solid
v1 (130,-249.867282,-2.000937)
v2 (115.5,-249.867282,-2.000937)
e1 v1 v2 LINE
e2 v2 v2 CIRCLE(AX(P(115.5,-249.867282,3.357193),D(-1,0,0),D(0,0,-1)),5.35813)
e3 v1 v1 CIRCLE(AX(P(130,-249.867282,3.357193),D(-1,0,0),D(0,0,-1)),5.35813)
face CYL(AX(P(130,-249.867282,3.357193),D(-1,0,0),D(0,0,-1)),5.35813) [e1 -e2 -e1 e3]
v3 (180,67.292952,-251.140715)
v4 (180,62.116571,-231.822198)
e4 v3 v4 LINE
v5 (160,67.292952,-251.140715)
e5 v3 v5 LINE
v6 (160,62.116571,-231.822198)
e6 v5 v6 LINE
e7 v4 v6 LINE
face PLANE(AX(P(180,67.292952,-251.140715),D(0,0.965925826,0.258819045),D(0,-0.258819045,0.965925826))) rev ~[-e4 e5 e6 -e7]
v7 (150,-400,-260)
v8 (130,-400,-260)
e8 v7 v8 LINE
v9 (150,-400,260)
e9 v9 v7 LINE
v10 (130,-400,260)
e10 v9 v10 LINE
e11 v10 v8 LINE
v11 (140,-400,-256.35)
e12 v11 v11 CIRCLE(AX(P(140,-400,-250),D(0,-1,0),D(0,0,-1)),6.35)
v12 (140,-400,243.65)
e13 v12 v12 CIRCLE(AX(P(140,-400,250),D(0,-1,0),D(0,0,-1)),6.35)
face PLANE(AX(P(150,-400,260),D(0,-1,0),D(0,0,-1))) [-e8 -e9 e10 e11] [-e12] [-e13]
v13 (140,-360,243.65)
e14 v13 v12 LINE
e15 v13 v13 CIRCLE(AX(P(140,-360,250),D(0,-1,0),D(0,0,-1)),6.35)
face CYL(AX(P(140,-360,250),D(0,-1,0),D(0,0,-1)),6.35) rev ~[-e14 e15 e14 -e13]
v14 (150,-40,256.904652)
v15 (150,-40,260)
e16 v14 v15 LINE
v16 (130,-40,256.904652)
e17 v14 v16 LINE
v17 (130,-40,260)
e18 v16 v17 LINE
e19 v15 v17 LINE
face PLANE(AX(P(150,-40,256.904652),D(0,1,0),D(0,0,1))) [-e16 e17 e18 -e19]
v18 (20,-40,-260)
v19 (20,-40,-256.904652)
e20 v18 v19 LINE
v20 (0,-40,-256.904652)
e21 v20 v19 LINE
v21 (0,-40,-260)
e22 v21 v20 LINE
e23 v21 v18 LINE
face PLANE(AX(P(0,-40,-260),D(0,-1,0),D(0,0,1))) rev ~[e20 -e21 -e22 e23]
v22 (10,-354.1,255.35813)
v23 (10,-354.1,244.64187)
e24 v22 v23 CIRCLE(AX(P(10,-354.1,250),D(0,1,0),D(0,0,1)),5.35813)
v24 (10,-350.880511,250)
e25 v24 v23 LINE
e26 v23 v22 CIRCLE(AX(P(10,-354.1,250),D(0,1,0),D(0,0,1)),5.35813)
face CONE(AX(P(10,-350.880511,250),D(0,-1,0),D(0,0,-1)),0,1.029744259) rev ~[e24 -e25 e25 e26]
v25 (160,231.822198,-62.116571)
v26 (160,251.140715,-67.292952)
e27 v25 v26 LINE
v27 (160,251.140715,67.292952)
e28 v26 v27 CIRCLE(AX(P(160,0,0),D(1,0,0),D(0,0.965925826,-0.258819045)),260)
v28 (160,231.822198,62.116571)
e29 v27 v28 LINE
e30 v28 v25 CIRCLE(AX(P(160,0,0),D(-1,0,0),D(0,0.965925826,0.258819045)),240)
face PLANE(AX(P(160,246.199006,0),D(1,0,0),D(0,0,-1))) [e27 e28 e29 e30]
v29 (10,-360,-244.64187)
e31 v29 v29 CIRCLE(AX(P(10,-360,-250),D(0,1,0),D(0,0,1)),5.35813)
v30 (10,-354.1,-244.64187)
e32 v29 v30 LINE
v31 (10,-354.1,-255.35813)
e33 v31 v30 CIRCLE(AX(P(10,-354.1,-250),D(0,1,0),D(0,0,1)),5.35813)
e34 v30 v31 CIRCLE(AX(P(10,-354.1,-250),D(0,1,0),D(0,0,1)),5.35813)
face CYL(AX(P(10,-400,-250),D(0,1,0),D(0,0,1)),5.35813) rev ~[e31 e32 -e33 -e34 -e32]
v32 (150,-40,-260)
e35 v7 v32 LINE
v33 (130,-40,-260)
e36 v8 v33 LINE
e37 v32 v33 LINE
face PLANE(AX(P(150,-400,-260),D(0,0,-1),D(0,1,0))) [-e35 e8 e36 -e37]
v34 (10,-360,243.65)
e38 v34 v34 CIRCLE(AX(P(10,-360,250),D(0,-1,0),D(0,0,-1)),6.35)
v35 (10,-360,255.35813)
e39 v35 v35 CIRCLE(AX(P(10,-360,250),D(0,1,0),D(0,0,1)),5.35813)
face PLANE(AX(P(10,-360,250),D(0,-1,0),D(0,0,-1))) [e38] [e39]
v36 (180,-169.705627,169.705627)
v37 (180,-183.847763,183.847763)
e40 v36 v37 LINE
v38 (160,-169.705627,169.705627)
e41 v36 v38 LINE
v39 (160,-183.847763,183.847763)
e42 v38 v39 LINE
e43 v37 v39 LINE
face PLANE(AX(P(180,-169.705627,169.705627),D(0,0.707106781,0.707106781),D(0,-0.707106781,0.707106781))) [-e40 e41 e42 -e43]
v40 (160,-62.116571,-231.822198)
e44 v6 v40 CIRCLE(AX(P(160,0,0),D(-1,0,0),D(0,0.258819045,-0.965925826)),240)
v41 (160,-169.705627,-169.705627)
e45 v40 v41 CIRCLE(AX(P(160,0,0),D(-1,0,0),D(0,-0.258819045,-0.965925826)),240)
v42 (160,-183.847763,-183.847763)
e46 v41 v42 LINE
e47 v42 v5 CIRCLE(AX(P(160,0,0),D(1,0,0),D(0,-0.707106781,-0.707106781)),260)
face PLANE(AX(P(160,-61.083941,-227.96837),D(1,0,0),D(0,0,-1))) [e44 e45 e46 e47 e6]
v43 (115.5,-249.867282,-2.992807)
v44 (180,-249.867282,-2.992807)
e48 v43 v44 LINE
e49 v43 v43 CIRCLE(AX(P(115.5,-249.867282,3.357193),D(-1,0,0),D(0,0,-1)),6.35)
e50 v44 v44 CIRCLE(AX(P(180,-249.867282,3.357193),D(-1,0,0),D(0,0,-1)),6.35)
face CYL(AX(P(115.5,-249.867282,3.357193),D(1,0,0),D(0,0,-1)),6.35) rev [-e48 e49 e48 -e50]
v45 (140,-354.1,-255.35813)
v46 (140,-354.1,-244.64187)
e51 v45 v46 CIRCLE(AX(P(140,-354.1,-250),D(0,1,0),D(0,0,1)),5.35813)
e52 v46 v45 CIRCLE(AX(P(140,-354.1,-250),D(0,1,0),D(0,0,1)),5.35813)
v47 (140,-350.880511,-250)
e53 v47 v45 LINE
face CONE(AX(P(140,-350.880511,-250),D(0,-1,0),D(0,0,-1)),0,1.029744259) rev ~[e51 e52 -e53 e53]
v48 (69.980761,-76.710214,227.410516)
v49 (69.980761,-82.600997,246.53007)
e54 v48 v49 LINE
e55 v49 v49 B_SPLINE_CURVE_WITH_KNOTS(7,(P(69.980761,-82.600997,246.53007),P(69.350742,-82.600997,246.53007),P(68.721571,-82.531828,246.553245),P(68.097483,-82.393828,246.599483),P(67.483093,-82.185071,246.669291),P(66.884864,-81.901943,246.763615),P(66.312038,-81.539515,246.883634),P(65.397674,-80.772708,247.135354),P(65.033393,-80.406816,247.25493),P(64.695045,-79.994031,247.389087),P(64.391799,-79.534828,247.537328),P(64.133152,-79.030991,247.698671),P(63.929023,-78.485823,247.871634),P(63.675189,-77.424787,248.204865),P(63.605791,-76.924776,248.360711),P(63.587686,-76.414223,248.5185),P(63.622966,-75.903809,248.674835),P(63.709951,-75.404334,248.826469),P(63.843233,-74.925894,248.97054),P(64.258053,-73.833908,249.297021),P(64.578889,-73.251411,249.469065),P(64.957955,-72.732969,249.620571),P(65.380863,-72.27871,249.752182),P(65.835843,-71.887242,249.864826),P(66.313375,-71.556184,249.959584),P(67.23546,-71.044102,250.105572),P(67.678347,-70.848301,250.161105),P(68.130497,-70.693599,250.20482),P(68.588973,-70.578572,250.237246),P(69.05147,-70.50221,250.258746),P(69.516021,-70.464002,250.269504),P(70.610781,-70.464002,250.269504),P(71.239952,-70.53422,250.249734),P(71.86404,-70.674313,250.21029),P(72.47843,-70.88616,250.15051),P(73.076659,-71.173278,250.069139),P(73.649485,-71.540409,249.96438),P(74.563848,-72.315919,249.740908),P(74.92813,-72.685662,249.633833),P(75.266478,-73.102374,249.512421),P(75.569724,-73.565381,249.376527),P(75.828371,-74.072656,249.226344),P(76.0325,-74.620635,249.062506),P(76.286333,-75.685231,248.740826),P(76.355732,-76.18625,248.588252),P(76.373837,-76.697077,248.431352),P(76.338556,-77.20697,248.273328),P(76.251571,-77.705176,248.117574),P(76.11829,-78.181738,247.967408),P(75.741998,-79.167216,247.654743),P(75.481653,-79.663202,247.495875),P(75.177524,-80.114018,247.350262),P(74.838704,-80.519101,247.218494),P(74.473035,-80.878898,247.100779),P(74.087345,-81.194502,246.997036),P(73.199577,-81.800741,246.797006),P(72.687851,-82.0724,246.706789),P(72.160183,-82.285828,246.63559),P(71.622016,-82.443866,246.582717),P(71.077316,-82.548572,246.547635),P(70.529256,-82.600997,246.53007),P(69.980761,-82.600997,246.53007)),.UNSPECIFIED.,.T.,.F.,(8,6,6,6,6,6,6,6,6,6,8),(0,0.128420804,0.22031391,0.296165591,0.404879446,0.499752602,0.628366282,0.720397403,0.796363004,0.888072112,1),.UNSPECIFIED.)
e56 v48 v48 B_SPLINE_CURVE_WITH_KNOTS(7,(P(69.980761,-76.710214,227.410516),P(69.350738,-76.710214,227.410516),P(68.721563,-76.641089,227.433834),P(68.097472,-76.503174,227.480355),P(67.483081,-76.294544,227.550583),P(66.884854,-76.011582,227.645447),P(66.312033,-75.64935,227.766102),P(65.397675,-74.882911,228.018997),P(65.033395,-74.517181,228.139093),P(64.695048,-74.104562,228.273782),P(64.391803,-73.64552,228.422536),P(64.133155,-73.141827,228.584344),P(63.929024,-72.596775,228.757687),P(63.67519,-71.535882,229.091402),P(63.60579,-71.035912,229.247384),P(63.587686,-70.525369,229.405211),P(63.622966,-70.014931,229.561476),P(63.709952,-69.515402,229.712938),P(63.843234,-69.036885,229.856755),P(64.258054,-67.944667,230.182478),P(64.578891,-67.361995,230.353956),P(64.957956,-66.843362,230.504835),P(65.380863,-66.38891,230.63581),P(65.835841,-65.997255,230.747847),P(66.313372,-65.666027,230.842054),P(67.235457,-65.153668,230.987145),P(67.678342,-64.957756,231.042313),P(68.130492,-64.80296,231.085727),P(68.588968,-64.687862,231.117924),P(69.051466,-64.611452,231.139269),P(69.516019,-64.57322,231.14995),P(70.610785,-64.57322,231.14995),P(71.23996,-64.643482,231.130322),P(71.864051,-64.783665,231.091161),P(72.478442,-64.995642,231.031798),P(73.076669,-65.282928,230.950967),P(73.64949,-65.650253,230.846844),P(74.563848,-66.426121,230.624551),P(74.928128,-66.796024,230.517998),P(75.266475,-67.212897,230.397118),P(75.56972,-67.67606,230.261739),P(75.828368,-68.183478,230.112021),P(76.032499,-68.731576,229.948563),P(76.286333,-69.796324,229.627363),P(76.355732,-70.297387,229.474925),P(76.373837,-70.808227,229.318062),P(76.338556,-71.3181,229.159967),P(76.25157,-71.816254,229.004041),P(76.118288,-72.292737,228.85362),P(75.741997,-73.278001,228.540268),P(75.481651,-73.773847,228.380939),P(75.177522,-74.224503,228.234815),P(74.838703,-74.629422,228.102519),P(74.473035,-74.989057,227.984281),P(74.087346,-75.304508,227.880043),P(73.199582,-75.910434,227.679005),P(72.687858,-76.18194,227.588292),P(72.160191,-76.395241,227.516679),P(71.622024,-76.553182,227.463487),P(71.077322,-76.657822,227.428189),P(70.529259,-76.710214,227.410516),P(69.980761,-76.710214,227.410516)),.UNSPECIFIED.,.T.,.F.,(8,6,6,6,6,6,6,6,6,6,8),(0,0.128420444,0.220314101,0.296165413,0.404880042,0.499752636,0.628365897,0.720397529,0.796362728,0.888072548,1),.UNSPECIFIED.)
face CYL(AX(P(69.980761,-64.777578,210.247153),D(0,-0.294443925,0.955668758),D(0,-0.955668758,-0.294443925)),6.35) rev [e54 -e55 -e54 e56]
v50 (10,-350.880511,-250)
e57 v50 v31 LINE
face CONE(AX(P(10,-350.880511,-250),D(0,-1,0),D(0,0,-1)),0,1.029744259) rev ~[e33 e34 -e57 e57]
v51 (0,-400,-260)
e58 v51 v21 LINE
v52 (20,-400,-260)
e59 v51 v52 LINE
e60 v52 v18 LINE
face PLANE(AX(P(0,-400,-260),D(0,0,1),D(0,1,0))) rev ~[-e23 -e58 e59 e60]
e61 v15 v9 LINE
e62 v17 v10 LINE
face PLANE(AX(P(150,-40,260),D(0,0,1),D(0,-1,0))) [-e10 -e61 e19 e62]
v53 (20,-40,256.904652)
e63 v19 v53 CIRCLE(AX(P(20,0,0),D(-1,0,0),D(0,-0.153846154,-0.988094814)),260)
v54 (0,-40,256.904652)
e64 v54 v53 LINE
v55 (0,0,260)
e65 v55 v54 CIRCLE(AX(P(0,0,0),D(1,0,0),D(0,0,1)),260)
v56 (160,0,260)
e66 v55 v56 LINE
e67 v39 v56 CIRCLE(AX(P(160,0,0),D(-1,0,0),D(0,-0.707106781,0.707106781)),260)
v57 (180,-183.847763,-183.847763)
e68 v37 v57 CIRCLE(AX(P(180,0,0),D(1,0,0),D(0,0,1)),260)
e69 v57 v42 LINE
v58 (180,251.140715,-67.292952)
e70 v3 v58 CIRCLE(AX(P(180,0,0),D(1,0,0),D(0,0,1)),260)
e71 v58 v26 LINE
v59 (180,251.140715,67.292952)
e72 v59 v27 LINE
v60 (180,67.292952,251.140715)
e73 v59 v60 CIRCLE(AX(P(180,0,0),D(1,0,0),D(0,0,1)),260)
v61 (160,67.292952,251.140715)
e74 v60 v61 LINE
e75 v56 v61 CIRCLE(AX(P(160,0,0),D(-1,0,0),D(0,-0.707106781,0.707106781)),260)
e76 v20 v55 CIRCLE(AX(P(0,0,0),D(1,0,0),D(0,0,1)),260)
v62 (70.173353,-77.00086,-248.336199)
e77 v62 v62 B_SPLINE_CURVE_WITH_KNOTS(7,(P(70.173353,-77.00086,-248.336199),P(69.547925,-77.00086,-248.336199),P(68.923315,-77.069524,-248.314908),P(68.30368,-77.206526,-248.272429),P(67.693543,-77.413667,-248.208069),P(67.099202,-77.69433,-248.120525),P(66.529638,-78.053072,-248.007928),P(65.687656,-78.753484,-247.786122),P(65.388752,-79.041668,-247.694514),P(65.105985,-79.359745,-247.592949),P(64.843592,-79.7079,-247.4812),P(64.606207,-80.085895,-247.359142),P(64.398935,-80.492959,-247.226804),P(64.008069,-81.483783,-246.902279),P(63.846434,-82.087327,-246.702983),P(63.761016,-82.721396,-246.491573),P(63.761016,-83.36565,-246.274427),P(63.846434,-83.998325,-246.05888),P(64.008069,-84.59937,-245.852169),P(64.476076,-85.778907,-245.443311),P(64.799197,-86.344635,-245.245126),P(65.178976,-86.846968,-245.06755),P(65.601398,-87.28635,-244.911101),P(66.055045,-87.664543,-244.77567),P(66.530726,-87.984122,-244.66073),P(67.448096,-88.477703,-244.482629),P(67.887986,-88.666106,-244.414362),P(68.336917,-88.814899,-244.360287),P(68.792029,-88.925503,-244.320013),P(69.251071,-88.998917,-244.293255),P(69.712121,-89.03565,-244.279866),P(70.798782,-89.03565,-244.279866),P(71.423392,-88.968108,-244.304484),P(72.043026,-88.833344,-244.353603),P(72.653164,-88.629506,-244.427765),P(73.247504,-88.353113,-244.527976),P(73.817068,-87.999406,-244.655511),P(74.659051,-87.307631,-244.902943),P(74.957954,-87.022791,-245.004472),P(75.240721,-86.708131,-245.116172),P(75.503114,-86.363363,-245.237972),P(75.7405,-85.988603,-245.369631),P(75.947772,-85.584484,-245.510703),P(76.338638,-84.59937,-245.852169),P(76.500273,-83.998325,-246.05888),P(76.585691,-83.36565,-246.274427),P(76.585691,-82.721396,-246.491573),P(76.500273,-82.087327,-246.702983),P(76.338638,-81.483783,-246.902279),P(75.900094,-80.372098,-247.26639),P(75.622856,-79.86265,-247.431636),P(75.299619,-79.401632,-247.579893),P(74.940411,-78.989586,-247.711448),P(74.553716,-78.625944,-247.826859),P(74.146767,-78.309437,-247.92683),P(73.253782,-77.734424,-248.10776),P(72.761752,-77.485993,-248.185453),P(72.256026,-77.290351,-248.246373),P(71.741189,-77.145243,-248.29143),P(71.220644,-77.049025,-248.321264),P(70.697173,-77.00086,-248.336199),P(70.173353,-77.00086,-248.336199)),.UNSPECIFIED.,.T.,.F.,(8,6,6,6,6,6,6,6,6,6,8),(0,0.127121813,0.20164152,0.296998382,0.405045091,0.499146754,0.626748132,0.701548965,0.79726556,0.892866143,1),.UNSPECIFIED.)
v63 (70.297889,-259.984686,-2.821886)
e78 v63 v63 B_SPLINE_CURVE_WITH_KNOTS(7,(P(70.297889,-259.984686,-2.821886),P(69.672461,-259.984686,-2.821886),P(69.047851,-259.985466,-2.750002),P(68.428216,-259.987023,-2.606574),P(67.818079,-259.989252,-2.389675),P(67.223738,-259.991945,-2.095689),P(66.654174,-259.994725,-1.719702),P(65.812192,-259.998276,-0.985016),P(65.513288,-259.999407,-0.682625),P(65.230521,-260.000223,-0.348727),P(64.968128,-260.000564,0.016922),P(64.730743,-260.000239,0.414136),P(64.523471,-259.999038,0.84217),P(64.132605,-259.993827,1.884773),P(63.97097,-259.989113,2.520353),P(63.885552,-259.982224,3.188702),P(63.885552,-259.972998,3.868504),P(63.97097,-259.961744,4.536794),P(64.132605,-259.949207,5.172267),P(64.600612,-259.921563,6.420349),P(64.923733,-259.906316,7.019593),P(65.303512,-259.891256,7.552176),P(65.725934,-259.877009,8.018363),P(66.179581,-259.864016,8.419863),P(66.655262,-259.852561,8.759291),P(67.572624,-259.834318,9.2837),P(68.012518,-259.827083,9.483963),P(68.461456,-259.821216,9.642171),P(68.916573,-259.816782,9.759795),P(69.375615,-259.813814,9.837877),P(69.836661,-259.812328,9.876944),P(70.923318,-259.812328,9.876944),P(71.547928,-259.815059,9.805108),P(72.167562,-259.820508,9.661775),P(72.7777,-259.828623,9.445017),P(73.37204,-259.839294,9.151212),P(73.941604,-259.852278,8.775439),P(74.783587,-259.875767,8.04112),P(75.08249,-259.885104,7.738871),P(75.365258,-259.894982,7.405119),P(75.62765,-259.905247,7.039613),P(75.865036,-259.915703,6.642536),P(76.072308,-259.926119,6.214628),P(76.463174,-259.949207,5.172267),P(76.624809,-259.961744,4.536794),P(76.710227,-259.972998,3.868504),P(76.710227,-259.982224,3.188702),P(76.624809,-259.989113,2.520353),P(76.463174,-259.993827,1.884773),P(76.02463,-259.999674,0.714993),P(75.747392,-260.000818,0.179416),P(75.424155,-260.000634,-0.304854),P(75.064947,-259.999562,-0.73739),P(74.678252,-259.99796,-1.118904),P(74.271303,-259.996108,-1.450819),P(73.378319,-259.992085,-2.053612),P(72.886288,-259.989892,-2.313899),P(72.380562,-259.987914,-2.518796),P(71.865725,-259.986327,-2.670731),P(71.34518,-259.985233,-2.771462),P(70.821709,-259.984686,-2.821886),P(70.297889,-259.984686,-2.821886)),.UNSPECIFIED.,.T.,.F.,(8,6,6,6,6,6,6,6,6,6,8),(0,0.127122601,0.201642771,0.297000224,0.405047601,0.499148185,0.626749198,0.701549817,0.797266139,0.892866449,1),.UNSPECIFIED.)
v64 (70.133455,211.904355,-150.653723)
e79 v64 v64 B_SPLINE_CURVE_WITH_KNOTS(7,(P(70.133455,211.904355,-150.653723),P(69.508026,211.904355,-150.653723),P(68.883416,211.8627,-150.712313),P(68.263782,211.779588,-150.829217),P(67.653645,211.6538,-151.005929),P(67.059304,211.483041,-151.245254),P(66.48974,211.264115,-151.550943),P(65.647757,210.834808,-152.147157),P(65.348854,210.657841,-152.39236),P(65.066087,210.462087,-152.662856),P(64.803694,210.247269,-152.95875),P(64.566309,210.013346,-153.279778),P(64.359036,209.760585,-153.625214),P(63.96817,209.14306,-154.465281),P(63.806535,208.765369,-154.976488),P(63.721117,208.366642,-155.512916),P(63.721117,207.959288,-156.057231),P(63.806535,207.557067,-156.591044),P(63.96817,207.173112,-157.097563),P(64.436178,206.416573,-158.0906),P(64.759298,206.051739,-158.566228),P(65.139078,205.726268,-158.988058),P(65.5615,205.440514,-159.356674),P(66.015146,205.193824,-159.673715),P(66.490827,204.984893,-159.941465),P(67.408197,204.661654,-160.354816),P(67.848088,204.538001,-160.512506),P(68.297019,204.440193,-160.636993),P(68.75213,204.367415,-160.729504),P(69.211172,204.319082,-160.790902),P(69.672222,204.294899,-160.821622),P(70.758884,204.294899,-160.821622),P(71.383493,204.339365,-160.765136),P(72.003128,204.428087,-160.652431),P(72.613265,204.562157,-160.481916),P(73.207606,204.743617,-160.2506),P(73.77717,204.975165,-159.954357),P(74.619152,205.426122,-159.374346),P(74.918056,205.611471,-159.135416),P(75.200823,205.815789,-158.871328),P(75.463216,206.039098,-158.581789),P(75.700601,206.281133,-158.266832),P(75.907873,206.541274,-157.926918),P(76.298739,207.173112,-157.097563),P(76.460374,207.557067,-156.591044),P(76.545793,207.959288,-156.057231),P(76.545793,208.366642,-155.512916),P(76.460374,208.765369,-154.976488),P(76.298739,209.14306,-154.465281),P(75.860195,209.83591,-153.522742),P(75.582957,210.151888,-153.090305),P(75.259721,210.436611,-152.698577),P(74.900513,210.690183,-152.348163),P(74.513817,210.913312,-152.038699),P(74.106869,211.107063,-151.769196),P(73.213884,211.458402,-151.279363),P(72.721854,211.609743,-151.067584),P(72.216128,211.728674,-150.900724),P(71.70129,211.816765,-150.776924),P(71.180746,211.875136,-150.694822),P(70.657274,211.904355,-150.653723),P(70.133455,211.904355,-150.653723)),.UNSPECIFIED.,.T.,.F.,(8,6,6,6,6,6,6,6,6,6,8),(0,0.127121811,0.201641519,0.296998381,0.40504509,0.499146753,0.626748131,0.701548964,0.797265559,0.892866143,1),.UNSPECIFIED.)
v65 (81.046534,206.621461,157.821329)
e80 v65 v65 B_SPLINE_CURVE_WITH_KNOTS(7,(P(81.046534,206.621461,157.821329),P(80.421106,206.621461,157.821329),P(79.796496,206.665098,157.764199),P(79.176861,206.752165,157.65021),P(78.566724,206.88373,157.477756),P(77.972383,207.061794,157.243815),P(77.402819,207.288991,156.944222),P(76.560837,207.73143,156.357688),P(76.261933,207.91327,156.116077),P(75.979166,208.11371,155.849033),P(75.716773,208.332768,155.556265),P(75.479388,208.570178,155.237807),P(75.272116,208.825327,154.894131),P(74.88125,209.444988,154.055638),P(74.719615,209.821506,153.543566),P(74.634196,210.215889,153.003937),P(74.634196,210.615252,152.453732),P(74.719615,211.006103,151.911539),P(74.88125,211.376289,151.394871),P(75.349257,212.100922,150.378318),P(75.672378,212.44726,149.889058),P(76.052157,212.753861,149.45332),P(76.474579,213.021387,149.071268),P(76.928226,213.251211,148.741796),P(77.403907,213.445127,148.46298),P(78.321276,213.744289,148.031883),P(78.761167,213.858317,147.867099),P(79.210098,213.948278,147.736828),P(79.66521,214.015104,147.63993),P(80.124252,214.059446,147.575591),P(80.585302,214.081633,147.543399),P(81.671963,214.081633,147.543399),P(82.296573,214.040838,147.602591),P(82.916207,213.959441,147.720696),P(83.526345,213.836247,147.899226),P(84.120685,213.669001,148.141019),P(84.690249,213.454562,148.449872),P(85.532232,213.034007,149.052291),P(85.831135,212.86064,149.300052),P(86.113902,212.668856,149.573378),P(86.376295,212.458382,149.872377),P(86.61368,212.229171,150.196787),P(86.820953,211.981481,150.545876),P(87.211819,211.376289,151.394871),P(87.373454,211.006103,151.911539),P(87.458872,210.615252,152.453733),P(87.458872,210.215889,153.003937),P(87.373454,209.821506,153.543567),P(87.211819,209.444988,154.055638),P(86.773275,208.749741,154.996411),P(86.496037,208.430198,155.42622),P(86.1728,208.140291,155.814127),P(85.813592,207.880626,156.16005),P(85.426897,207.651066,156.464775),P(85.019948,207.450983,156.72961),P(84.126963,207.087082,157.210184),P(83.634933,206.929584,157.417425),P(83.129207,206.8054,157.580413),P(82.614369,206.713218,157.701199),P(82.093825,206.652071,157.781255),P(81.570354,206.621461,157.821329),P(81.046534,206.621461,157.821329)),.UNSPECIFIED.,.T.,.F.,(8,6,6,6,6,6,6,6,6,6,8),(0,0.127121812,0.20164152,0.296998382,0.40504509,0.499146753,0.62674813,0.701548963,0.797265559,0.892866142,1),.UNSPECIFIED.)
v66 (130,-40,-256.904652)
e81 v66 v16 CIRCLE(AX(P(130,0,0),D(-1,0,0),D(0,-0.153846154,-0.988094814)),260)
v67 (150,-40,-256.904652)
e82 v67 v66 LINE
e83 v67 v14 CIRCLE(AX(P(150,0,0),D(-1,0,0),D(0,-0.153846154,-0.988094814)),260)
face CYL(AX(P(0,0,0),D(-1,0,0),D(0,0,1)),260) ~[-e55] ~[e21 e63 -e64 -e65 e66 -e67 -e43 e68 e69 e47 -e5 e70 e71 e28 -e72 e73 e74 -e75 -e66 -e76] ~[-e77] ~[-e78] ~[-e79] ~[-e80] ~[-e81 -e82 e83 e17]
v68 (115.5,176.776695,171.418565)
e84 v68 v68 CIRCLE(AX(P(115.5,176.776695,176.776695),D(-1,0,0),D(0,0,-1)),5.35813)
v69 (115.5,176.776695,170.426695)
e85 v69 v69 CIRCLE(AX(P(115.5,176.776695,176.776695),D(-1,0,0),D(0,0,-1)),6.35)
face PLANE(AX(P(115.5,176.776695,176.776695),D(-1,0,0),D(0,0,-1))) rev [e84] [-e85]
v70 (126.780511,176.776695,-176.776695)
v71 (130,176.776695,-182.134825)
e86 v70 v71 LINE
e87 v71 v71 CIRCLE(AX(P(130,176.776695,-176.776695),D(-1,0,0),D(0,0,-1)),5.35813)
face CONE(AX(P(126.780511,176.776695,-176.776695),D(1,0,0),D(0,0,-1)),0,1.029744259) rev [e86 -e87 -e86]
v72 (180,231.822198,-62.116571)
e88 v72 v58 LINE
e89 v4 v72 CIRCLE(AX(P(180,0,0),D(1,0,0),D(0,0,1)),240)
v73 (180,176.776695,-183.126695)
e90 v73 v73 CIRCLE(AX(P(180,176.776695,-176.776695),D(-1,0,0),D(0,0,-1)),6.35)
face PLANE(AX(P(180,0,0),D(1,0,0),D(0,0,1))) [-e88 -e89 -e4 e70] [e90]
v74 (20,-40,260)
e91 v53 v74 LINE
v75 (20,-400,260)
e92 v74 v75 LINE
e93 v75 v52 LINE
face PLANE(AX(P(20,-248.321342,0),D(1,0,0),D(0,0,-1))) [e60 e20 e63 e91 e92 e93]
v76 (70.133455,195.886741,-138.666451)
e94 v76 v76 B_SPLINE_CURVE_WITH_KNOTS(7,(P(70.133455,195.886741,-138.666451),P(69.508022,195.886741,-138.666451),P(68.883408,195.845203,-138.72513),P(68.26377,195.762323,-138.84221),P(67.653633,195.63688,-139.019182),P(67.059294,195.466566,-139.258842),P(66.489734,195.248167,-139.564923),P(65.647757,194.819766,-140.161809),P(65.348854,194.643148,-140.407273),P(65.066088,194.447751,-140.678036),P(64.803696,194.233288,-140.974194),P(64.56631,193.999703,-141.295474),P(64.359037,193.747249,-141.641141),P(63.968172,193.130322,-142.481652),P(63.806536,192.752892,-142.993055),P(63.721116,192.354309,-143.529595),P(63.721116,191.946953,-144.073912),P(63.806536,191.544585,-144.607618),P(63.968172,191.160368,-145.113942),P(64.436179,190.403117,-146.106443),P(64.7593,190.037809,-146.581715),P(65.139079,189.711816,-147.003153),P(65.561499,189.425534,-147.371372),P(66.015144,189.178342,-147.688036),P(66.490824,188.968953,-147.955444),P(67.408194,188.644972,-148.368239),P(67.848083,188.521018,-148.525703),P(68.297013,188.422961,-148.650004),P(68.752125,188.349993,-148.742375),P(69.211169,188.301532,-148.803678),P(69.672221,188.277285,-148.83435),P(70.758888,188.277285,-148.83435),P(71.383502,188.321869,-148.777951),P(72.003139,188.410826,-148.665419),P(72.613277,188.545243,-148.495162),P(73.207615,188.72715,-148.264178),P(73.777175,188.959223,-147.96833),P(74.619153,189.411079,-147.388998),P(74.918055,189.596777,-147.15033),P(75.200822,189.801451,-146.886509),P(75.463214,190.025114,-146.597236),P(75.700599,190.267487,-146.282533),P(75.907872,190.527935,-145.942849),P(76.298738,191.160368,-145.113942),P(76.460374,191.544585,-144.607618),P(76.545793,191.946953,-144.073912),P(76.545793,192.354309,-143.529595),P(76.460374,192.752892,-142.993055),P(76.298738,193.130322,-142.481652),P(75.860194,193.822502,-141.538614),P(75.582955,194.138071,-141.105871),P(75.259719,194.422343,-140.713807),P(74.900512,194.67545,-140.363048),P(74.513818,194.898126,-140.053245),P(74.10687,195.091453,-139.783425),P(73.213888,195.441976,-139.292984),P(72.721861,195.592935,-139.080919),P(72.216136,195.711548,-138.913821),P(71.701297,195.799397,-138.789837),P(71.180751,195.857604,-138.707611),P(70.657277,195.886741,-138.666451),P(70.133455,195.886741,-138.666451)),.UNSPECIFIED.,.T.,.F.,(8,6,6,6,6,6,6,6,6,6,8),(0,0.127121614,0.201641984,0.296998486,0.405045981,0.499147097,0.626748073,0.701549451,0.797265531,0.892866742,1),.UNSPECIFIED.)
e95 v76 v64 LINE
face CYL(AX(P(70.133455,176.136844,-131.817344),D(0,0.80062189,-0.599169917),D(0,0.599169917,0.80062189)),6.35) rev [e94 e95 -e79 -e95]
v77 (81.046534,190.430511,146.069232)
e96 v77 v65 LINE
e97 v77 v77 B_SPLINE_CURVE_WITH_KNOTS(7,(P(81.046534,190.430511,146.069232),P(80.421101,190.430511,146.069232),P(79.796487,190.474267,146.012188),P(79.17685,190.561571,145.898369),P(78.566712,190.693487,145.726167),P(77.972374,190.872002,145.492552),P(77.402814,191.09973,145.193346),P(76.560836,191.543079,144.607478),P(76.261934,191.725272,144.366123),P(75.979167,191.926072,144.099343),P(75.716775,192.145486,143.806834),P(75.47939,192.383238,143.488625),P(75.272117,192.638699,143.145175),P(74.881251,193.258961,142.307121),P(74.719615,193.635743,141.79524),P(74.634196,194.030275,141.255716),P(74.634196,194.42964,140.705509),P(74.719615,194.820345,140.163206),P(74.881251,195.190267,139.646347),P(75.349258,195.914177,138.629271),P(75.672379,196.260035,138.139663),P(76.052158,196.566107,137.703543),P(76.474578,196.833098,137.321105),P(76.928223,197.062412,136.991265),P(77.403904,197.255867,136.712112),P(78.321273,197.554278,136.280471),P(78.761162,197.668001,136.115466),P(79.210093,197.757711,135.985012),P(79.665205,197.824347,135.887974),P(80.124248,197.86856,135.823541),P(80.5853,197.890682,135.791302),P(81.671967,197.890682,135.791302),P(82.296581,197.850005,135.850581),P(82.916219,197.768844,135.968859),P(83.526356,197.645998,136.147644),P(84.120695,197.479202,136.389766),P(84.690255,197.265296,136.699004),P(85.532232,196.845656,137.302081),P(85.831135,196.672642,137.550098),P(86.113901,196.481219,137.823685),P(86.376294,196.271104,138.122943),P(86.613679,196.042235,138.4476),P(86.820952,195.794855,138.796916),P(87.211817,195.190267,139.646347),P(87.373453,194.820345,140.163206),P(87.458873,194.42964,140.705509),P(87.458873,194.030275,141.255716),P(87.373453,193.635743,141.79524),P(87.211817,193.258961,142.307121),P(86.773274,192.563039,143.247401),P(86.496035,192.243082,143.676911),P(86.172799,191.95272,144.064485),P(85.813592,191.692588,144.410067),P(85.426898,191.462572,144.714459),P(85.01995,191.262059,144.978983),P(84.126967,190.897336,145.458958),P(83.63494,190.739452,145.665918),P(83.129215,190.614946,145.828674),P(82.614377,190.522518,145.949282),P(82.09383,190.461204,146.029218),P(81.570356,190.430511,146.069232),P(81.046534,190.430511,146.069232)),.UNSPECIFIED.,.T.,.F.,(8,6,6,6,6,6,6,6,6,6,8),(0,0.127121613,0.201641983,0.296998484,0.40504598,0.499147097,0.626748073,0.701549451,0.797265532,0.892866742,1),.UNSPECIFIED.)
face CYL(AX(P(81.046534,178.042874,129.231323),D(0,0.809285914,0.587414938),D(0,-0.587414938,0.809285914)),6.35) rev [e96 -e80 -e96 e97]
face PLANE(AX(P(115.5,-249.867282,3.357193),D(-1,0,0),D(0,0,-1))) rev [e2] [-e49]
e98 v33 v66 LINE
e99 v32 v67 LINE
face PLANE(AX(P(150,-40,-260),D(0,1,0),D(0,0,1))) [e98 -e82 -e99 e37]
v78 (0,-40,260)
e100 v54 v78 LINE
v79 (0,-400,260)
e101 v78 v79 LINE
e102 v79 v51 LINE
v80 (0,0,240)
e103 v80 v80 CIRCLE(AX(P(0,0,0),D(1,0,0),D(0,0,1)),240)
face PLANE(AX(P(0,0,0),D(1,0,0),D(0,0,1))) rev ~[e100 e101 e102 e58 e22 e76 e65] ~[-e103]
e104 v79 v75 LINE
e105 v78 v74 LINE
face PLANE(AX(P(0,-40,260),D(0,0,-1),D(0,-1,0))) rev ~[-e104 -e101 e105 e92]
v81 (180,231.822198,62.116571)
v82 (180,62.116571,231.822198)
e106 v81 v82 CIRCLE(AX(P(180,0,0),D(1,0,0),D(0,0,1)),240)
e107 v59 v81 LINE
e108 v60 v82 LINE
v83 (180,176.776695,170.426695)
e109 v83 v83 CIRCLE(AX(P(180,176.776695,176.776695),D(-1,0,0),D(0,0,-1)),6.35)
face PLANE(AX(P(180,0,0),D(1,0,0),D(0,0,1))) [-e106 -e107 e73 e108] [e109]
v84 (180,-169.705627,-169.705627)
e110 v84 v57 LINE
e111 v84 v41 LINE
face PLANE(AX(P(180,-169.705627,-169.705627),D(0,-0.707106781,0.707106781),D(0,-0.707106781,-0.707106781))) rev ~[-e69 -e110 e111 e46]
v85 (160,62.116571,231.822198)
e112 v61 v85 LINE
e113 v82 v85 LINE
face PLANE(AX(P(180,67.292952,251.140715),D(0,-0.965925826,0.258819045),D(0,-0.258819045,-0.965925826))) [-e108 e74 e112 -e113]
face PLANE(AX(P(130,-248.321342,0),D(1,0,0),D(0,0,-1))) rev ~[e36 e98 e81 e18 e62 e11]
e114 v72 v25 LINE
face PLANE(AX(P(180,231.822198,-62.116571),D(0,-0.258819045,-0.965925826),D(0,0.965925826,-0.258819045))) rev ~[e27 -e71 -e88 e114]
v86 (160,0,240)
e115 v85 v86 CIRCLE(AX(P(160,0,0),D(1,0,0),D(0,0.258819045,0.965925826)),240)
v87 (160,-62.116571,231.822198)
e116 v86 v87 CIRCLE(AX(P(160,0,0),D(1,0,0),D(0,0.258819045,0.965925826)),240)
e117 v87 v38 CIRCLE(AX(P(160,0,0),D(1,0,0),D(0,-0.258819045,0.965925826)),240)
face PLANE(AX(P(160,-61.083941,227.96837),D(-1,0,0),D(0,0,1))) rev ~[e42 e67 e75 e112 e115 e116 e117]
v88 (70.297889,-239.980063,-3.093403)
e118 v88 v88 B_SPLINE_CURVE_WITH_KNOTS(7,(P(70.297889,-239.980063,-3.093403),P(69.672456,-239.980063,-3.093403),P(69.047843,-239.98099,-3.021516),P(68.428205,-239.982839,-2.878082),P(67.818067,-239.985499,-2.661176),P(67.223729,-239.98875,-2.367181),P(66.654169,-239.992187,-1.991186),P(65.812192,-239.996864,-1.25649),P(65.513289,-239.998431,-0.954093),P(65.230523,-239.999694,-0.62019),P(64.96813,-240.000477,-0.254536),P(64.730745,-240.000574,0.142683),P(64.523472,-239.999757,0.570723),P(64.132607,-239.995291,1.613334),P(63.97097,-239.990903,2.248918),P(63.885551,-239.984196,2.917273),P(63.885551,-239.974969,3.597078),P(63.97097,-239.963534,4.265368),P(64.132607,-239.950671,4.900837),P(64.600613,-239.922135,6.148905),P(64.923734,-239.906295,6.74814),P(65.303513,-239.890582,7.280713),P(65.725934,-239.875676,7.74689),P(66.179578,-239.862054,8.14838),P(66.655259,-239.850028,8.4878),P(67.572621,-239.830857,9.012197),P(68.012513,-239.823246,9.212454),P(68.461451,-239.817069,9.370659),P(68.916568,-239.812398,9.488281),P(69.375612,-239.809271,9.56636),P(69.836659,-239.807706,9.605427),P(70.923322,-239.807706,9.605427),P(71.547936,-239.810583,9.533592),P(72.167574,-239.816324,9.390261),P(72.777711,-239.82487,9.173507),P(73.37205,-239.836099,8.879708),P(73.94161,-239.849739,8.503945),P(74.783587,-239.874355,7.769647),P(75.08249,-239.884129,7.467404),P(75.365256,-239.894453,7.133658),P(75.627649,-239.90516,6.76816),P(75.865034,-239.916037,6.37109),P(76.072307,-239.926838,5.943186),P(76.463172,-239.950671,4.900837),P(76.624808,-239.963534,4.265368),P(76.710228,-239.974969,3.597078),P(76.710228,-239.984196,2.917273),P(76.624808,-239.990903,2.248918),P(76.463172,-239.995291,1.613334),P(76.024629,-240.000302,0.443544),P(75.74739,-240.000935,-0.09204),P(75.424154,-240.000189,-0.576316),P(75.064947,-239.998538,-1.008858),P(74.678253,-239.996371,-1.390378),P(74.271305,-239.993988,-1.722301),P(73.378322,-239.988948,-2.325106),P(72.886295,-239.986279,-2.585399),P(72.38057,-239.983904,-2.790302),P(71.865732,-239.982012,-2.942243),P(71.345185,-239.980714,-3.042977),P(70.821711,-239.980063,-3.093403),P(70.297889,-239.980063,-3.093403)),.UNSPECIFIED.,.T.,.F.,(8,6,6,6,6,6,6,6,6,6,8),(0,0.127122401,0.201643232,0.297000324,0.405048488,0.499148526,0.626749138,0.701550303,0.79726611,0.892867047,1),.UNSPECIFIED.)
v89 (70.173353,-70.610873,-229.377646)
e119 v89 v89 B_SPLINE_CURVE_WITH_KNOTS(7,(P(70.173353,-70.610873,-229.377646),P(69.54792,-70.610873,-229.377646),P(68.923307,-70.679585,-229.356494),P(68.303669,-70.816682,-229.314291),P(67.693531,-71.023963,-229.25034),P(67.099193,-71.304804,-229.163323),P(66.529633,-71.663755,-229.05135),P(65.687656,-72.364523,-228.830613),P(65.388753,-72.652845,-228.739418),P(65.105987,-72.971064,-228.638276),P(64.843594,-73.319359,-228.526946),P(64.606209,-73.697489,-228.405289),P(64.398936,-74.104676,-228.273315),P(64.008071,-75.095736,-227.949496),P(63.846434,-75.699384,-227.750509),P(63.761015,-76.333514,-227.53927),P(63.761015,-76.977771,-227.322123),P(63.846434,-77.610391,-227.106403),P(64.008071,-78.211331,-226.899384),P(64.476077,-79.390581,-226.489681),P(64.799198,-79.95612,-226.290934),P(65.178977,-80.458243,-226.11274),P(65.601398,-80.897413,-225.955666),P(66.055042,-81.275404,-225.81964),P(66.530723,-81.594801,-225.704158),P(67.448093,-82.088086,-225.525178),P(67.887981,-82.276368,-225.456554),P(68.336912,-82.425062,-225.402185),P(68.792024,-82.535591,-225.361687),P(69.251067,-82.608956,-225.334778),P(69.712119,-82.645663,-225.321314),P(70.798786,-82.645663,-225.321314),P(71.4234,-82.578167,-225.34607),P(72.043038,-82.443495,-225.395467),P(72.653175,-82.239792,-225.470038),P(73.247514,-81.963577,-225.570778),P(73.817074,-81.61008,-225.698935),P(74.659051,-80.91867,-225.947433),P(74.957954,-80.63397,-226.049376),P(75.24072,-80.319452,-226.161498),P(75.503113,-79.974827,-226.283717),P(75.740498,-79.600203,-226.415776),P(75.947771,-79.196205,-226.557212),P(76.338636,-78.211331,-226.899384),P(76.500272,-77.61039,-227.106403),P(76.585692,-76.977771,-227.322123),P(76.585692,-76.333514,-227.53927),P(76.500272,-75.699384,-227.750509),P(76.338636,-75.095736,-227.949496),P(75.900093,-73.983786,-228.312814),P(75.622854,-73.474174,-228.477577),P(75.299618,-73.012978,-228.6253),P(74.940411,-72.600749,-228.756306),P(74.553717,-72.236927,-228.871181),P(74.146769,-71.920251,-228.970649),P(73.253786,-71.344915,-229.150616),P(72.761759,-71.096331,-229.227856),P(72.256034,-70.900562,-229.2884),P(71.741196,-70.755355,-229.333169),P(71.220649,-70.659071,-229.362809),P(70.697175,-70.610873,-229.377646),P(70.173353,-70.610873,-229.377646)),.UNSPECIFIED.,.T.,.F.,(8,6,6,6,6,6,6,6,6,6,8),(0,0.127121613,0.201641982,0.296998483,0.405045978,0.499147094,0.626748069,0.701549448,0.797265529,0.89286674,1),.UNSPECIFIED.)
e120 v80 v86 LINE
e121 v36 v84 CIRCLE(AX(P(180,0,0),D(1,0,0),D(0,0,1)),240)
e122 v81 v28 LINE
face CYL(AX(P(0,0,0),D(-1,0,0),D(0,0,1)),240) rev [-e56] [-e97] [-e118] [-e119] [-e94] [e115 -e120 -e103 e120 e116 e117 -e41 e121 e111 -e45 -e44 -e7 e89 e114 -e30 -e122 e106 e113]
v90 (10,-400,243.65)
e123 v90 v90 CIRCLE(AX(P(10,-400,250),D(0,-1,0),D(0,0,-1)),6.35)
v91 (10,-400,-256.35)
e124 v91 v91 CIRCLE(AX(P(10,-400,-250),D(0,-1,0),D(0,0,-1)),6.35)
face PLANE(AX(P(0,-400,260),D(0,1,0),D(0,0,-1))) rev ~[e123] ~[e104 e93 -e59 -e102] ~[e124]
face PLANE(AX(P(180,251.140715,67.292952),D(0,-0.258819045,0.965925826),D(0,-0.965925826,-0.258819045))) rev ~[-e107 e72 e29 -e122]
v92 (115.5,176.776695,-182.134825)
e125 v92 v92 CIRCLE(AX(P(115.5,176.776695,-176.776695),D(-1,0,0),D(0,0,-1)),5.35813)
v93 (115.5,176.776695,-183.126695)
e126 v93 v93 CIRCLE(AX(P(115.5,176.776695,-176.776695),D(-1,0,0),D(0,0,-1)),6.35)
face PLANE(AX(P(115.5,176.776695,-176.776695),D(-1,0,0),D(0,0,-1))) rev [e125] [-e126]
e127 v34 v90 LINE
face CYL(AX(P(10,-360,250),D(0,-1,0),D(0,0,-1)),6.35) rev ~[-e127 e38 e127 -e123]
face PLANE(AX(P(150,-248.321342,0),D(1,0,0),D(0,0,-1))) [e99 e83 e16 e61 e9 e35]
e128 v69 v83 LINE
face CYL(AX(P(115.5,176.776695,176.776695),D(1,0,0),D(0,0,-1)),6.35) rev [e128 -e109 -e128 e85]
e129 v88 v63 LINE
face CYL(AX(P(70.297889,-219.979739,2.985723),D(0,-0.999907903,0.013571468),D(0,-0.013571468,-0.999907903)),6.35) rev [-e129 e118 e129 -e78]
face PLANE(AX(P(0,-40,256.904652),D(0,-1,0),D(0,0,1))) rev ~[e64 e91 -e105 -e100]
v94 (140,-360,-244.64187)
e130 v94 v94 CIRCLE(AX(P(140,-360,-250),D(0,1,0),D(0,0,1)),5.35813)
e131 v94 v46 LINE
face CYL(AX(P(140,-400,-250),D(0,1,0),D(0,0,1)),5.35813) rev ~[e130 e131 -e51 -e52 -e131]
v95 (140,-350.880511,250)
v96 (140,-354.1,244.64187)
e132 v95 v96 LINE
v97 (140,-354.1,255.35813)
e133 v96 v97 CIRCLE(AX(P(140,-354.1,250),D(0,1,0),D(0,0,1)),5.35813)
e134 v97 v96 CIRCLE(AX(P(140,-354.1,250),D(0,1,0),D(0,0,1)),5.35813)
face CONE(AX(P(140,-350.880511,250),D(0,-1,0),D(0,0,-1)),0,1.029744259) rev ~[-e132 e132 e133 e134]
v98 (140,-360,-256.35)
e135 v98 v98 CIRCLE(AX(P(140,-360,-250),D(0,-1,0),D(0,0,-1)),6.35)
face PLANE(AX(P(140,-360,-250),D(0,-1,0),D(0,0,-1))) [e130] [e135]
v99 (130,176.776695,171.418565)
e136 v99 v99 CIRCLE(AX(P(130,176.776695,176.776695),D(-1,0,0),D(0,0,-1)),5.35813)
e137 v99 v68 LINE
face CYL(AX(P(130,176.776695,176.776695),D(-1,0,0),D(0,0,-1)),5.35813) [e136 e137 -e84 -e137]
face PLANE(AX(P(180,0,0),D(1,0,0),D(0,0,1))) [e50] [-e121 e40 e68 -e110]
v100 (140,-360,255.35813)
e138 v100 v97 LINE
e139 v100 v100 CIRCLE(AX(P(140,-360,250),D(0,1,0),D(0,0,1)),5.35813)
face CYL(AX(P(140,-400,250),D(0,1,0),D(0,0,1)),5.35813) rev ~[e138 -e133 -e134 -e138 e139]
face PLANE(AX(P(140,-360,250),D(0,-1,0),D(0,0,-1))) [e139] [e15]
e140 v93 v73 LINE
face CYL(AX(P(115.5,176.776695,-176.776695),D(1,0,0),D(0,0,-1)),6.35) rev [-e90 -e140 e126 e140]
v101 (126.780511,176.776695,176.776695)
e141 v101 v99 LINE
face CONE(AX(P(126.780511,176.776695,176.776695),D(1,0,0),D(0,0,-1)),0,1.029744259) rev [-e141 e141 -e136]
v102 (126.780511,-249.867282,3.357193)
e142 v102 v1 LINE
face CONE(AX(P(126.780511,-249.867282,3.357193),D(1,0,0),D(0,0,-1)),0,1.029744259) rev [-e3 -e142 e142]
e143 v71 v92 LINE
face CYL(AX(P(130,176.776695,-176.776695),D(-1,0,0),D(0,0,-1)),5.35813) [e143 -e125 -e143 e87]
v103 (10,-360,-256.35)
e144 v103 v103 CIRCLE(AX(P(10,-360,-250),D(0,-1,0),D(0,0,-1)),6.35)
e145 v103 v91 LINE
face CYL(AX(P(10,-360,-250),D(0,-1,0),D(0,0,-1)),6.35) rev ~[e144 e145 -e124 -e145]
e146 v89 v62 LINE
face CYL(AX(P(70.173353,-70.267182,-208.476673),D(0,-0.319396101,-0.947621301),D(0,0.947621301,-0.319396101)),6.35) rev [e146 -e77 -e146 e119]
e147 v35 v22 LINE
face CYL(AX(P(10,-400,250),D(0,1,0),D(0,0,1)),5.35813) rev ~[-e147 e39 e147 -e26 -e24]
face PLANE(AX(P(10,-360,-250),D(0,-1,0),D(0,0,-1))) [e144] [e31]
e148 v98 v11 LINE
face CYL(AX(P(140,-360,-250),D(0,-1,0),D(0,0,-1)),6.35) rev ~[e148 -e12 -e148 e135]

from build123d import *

# Parameters (mm, degrees)
SKETCH1_3_R                       = 260
SKETCH1_3_R_2                     = 240
BOSS_EXTRUDE1_DEPTH               = 180
BOSS_EXTRUDE2_DEPTH               = 20
BOSS_EXTRUDE3_DEPTH               = 20
CUT_EXTRUDE1_DEPTH                = 20
F_1_2_13_TAPPED_HOLE1_AT_2_COUNT  = 2
F_1_2_13_TAPPED_HOLE1_AT_2_PITCH  = 353.553390593
F_1_2_13_TAPPED_HOLE1_AT_3_COUNT  = 2
F_1_2_13_TAPPED_HOLE1_AT_3_PITCH  = 463.112622797
F_1_2_13_TAPPED_HOLE7_D           = 10.71626
F_1_2_13_TAPPED_HOLE7_DEPTH       = 45.9
F_1_2_13_TAPPED_HOLE7_CBORE_D     = 12.7
F_1_2_13_TAPPED_HOLE7_CBORE_DEPTH = 40
F_1_2_13_TAPPED_HOLE7_TIP         = 3.219489309


with BuildPart() as part:
    # Sketch1<3> → Boss-Extrude1 (new body)
    with BuildSketch(Plane(origin=(0, 0, 0), x_dir=(0, 0, -1), z_dir=(1, 0, 0))):
        with Locations(Location((0, 0, 0), (0, 0, 180))):
            Circle(SKETCH1_3_R)
        with Locations(Location((0, 0, 0), (0, 0, 180))):
            Circle(SKETCH1_3_R_2, mode=Mode.SUBTRACT)
    extrude(amount=BOSS_EXTRUDE1_DEPTH)

    # Sketch6 → Boss-Extrude2 (add)
    with BuildSketch(Plane(origin=(0, 0, 0), x_dir=(0, 0, -1), z_dir=(1, 0, 0))):
        with BuildLine():
            Line((-260, -40), (-260, -400))
            Line((-260, -400), (260, -400))
            Line((260, -400), (260, -40))
            Line((260, -40), (256.904651573, -40))
            ThreePointArc((256.904651573, -40), (0, -260), (-256.904651573, -40))
            Line((-256.904651573, -40), (-260, -40))
        make_face()
    extrude(amount=BOSS_EXTRUDE2_DEPTH)

    # Sketch11 → Boss-Extrude3 (add)
    with BuildSketch(Plane(origin=(150, 0, 0), x_dir=(0, 0, -1), z_dir=(1, 0, 0))):
        with BuildLine():
            Line((-260, -40), (-260, -400))
            Line((-260, -400), (260, -400))
            Line((260, -400), (260, -40))
            Line((260, -40), (256.904651573, -40))
            ThreePointArc((256.904651573, -40), (0, -260), (-256.904651573, -40))
            Line((-256.904651573, -40), (-260, -40))
        make_face()
    extrude(amount=-BOSS_EXTRUDE3_DEPTH)

    # Sketch23 → 1/2-13 Tapped Hole6 (revolve, cut)
    with BuildSketch(Plane(origin=(70.297889329, -259.97605488, 3.528581758), x_dir=(0, -0.013571468301340803, -0.9999079033831796), z_dir=(1, 0, 0))):
        Polygon((0, 0), (0, 33.219489309), (5.35813, 30), (5.35813, 40), (6.35, 40), (6.35, 0), align=None)
    revolve(axis=Axis((70.297889329, -266.325470066, 3.614760582), (0, 0.9999079033831795, -0.013571468301340804)), mode=Mode.SUBTRACT)

    # Sketch23 at point 2 (carried to point 2, square into its face) → 1/2-13 Tapped Hole6 at 2 (revolve, cut)
    with BuildSketch(Plane(origin=(69.980761371, -76.555334809, 248.473903483), x_dir=(0, -0.955668758, -0.294443925), z_dir=(1, 0, 0))):
        Polygon((0, 0), (0, 33.219489309), (5.35813, 30), (5.35813, 40), (6.35, 40), (6.35, 0), align=None)
    revolve(axis=Axis((69.980761371, -78.425053736, 254.542400096), (0, 0.294443925, -0.955668758)), mode=Mode.SUBTRACT)

    # Sketch23 at point 3 (carried to point 3, square into its face) → 1/2-13 Tapped Hole6 at 3 (revolve, cut)
    with BuildSketch(Plane(origin=(70.133454805, 208.161719285, -155.784141119), x_dir=(0, 0.599169917, 0.80062189), z_dir=(1, 0, 0))):
        Polygon((0, 0), (0, 33.219489309), (5.35813, 30), (5.35813, 40), (6.35, 40), (6.35, 0), align=None)
    revolve(axis=Axis((70.133454805, 213.245668284, -159.588870095), (0, -0.80062189, 0.599169917)), mode=Mode.SUBTRACT)

    # Sketch23 at point 4 (carried to point 4, square into its face) → 1/2-13 Tapped Hole6 at 4 (revolve, cut)
    with BuildSketch(Plane(origin=(70.173353325, -83.043025916, -246.38152497), x_dir=(0, 0.947621301, -0.319396101), z_dir=(1, 0, 0))):
        Polygon((0, 0), (0, 33.219489309), (5.35813, 30), (5.35813, 40), (6.35, 40), (6.35, 0), align=None)
    revolve(axis=Axis((70.173353325, -85.071191161, -252.398920232), (0, 0.319396101, 0.947621301)), mode=Mode.SUBTRACT)

    # Sketch23 at point 5 (carried to point 5, square into its face) → 1/2-13 Tapped Hole6 at 5 (revolve, cut)
    with BuildSketch(Plane(origin=(81.046534223, 210.414311033, 152.72792054), x_dir=(0, -0.587414938, 0.809285914), z_dir=(1, 0, 0))):
        Polygon((0, 0), (0, 33.219489309), (5.35813, 30), (5.35813, 40), (6.35, 40), (6.35, 0), align=None)
    revolve(axis=Axis((81.046534223, 215.553276588, 156.458005394), (0, -0.809285914, -0.587414938)), mode=Mode.SUBTRACT)

    # Sketch25 → Cut-Extrude1 (cut)
    with BuildSketch(Plane(origin=(180, 0, 0), x_dir=(0, 0, -1), z_dir=(1, 0, 0))):
        with BuildLine():
            Line((-169.705627485, -169.705627485), (-183.847763109, -183.847763109))
            ThreePointArc((-183.847763109, -183.847763109), (-225.166604984, -130), (-251.140714835, -67.292951727))
            ThreePointArc((-251.140714835, -67.292951727), (-260, 0), (-251.140714835, 67.292951727))
            Line((-251.140714835, 67.292951727), (-231.822198309, 62.116570825))
            ThreePointArc((-231.822198309, 62.116570825), (-240, 0), (-231.822198309, -62.116570825))
            ThreePointArc((-231.822198309, -62.116570825), (-207.846096908, -120), (-169.705627485, -169.705627485))
        make_face()
        with BuildLine():
            Line((169.705627485, -169.705627485), (183.847763109, -183.847763109))
            ThreePointArc((183.847763109, -183.847763109), (225.166604984, -130), (251.140714835, -67.292951727))
            ThreePointArc((251.140714835, -67.292951727), (260, 0), (251.140714835, 67.292951727))
            Line((251.140714835, 67.292951727), (231.822198309, 62.116570825))
            ThreePointArc((231.822198309, 62.116570825), (240, 0), (231.822198309, -62.116570825))
            ThreePointArc((231.822198309, -62.116570825), (207.846096908, -120), (169.705627485, -169.705627485))
        make_face()
        with BuildLine():
            Line((62.116570825, 231.822198309), (67.292951727, 251.140714835))
            ThreePointArc((67.292951727, 251.140714835), (0, 260), (-67.292951727, 251.140714835))
            Line((-67.292951727, 251.140714835), (-62.116570825, 231.822198309))
            ThreePointArc((-62.116570825, 231.822198309), (0, 240), (62.116570825, 231.822198309))
        make_face()
    extrude(amount=-CUT_EXTRUDE1_DEPTH, mode=Mode.SUBTRACT)

    # Sketch31 → 1/2-13 Tapped Hole1 (revolve, cut)
    with BuildSketch(Plane(origin=(180, 176.776695297, -176.776695297), x_dir=(0, 0, -1), z_dir=(0, 1, 0))):
        Polygon((0, 0), (0, 53.219489309), (5.35813, 50), (5.35813, 64.5), (6.35, 64.5), (6.35, 0), align=None)
    f_1_2_13_tapped_hole1 = revolve(axis=Axis((186.35, 176.776695297, -176.776695297), (-1, 0, 0)), mode=Mode.SUBTRACT)

    # 1/2-13 Tapped Hole1 at 2: 1/2-13 Tapped Hole1 ×2
    with Locations(*[(0, 0, i * F_1_2_13_TAPPED_HOLE1_AT_2_PITCH) for i in range(1, F_1_2_13_TAPPED_HOLE1_AT_2_COUNT)]):
        add(f_1_2_13_tapped_hole1, mode=Mode.SUBTRACT)

    # 1/2-13 Tapped Hole1 at 3: 1/2-13 Tapped Hole1 ×2
    with Locations(*[Vector(0, -0.9212531823667619, 0.3889634609820231) * (i * F_1_2_13_TAPPED_HOLE1_AT_3_PITCH) for i in range(1, F_1_2_13_TAPPED_HOLE1_AT_3_COUNT)]):
        add(f_1_2_13_tapped_hole1, mode=Mode.SUBTRACT)

    # 1/2-13 Tapped Hole7
    with Locations(Plane(origin=(140, -400, 250), x_dir=(0, 0, -1), z_dir=(0, -1, 0))):
        with Locations((0, 0), (0, -130), (500, -130), (500, 0)):
            CounterBoreHole(F_1_2_13_TAPPED_HOLE7_D / 2, F_1_2_13_TAPPED_HOLE7_CBORE_D / 2, F_1_2_13_TAPPED_HOLE7_CBORE_DEPTH, depth=F_1_2_13_TAPPED_HOLE7_DEPTH)
            with Locations((0, 0, -(F_1_2_13_TAPPED_HOLE7_DEPTH + F_1_2_13_TAPPED_HOLE7_TIP / 2))):  # 118° drill point
                Cone(0, F_1_2_13_TAPPED_HOLE7_D / 2, F_1_2_13_TAPPED_HOLE7_TIP, mode=Mode.SUBTRACT)


solid = part.part
